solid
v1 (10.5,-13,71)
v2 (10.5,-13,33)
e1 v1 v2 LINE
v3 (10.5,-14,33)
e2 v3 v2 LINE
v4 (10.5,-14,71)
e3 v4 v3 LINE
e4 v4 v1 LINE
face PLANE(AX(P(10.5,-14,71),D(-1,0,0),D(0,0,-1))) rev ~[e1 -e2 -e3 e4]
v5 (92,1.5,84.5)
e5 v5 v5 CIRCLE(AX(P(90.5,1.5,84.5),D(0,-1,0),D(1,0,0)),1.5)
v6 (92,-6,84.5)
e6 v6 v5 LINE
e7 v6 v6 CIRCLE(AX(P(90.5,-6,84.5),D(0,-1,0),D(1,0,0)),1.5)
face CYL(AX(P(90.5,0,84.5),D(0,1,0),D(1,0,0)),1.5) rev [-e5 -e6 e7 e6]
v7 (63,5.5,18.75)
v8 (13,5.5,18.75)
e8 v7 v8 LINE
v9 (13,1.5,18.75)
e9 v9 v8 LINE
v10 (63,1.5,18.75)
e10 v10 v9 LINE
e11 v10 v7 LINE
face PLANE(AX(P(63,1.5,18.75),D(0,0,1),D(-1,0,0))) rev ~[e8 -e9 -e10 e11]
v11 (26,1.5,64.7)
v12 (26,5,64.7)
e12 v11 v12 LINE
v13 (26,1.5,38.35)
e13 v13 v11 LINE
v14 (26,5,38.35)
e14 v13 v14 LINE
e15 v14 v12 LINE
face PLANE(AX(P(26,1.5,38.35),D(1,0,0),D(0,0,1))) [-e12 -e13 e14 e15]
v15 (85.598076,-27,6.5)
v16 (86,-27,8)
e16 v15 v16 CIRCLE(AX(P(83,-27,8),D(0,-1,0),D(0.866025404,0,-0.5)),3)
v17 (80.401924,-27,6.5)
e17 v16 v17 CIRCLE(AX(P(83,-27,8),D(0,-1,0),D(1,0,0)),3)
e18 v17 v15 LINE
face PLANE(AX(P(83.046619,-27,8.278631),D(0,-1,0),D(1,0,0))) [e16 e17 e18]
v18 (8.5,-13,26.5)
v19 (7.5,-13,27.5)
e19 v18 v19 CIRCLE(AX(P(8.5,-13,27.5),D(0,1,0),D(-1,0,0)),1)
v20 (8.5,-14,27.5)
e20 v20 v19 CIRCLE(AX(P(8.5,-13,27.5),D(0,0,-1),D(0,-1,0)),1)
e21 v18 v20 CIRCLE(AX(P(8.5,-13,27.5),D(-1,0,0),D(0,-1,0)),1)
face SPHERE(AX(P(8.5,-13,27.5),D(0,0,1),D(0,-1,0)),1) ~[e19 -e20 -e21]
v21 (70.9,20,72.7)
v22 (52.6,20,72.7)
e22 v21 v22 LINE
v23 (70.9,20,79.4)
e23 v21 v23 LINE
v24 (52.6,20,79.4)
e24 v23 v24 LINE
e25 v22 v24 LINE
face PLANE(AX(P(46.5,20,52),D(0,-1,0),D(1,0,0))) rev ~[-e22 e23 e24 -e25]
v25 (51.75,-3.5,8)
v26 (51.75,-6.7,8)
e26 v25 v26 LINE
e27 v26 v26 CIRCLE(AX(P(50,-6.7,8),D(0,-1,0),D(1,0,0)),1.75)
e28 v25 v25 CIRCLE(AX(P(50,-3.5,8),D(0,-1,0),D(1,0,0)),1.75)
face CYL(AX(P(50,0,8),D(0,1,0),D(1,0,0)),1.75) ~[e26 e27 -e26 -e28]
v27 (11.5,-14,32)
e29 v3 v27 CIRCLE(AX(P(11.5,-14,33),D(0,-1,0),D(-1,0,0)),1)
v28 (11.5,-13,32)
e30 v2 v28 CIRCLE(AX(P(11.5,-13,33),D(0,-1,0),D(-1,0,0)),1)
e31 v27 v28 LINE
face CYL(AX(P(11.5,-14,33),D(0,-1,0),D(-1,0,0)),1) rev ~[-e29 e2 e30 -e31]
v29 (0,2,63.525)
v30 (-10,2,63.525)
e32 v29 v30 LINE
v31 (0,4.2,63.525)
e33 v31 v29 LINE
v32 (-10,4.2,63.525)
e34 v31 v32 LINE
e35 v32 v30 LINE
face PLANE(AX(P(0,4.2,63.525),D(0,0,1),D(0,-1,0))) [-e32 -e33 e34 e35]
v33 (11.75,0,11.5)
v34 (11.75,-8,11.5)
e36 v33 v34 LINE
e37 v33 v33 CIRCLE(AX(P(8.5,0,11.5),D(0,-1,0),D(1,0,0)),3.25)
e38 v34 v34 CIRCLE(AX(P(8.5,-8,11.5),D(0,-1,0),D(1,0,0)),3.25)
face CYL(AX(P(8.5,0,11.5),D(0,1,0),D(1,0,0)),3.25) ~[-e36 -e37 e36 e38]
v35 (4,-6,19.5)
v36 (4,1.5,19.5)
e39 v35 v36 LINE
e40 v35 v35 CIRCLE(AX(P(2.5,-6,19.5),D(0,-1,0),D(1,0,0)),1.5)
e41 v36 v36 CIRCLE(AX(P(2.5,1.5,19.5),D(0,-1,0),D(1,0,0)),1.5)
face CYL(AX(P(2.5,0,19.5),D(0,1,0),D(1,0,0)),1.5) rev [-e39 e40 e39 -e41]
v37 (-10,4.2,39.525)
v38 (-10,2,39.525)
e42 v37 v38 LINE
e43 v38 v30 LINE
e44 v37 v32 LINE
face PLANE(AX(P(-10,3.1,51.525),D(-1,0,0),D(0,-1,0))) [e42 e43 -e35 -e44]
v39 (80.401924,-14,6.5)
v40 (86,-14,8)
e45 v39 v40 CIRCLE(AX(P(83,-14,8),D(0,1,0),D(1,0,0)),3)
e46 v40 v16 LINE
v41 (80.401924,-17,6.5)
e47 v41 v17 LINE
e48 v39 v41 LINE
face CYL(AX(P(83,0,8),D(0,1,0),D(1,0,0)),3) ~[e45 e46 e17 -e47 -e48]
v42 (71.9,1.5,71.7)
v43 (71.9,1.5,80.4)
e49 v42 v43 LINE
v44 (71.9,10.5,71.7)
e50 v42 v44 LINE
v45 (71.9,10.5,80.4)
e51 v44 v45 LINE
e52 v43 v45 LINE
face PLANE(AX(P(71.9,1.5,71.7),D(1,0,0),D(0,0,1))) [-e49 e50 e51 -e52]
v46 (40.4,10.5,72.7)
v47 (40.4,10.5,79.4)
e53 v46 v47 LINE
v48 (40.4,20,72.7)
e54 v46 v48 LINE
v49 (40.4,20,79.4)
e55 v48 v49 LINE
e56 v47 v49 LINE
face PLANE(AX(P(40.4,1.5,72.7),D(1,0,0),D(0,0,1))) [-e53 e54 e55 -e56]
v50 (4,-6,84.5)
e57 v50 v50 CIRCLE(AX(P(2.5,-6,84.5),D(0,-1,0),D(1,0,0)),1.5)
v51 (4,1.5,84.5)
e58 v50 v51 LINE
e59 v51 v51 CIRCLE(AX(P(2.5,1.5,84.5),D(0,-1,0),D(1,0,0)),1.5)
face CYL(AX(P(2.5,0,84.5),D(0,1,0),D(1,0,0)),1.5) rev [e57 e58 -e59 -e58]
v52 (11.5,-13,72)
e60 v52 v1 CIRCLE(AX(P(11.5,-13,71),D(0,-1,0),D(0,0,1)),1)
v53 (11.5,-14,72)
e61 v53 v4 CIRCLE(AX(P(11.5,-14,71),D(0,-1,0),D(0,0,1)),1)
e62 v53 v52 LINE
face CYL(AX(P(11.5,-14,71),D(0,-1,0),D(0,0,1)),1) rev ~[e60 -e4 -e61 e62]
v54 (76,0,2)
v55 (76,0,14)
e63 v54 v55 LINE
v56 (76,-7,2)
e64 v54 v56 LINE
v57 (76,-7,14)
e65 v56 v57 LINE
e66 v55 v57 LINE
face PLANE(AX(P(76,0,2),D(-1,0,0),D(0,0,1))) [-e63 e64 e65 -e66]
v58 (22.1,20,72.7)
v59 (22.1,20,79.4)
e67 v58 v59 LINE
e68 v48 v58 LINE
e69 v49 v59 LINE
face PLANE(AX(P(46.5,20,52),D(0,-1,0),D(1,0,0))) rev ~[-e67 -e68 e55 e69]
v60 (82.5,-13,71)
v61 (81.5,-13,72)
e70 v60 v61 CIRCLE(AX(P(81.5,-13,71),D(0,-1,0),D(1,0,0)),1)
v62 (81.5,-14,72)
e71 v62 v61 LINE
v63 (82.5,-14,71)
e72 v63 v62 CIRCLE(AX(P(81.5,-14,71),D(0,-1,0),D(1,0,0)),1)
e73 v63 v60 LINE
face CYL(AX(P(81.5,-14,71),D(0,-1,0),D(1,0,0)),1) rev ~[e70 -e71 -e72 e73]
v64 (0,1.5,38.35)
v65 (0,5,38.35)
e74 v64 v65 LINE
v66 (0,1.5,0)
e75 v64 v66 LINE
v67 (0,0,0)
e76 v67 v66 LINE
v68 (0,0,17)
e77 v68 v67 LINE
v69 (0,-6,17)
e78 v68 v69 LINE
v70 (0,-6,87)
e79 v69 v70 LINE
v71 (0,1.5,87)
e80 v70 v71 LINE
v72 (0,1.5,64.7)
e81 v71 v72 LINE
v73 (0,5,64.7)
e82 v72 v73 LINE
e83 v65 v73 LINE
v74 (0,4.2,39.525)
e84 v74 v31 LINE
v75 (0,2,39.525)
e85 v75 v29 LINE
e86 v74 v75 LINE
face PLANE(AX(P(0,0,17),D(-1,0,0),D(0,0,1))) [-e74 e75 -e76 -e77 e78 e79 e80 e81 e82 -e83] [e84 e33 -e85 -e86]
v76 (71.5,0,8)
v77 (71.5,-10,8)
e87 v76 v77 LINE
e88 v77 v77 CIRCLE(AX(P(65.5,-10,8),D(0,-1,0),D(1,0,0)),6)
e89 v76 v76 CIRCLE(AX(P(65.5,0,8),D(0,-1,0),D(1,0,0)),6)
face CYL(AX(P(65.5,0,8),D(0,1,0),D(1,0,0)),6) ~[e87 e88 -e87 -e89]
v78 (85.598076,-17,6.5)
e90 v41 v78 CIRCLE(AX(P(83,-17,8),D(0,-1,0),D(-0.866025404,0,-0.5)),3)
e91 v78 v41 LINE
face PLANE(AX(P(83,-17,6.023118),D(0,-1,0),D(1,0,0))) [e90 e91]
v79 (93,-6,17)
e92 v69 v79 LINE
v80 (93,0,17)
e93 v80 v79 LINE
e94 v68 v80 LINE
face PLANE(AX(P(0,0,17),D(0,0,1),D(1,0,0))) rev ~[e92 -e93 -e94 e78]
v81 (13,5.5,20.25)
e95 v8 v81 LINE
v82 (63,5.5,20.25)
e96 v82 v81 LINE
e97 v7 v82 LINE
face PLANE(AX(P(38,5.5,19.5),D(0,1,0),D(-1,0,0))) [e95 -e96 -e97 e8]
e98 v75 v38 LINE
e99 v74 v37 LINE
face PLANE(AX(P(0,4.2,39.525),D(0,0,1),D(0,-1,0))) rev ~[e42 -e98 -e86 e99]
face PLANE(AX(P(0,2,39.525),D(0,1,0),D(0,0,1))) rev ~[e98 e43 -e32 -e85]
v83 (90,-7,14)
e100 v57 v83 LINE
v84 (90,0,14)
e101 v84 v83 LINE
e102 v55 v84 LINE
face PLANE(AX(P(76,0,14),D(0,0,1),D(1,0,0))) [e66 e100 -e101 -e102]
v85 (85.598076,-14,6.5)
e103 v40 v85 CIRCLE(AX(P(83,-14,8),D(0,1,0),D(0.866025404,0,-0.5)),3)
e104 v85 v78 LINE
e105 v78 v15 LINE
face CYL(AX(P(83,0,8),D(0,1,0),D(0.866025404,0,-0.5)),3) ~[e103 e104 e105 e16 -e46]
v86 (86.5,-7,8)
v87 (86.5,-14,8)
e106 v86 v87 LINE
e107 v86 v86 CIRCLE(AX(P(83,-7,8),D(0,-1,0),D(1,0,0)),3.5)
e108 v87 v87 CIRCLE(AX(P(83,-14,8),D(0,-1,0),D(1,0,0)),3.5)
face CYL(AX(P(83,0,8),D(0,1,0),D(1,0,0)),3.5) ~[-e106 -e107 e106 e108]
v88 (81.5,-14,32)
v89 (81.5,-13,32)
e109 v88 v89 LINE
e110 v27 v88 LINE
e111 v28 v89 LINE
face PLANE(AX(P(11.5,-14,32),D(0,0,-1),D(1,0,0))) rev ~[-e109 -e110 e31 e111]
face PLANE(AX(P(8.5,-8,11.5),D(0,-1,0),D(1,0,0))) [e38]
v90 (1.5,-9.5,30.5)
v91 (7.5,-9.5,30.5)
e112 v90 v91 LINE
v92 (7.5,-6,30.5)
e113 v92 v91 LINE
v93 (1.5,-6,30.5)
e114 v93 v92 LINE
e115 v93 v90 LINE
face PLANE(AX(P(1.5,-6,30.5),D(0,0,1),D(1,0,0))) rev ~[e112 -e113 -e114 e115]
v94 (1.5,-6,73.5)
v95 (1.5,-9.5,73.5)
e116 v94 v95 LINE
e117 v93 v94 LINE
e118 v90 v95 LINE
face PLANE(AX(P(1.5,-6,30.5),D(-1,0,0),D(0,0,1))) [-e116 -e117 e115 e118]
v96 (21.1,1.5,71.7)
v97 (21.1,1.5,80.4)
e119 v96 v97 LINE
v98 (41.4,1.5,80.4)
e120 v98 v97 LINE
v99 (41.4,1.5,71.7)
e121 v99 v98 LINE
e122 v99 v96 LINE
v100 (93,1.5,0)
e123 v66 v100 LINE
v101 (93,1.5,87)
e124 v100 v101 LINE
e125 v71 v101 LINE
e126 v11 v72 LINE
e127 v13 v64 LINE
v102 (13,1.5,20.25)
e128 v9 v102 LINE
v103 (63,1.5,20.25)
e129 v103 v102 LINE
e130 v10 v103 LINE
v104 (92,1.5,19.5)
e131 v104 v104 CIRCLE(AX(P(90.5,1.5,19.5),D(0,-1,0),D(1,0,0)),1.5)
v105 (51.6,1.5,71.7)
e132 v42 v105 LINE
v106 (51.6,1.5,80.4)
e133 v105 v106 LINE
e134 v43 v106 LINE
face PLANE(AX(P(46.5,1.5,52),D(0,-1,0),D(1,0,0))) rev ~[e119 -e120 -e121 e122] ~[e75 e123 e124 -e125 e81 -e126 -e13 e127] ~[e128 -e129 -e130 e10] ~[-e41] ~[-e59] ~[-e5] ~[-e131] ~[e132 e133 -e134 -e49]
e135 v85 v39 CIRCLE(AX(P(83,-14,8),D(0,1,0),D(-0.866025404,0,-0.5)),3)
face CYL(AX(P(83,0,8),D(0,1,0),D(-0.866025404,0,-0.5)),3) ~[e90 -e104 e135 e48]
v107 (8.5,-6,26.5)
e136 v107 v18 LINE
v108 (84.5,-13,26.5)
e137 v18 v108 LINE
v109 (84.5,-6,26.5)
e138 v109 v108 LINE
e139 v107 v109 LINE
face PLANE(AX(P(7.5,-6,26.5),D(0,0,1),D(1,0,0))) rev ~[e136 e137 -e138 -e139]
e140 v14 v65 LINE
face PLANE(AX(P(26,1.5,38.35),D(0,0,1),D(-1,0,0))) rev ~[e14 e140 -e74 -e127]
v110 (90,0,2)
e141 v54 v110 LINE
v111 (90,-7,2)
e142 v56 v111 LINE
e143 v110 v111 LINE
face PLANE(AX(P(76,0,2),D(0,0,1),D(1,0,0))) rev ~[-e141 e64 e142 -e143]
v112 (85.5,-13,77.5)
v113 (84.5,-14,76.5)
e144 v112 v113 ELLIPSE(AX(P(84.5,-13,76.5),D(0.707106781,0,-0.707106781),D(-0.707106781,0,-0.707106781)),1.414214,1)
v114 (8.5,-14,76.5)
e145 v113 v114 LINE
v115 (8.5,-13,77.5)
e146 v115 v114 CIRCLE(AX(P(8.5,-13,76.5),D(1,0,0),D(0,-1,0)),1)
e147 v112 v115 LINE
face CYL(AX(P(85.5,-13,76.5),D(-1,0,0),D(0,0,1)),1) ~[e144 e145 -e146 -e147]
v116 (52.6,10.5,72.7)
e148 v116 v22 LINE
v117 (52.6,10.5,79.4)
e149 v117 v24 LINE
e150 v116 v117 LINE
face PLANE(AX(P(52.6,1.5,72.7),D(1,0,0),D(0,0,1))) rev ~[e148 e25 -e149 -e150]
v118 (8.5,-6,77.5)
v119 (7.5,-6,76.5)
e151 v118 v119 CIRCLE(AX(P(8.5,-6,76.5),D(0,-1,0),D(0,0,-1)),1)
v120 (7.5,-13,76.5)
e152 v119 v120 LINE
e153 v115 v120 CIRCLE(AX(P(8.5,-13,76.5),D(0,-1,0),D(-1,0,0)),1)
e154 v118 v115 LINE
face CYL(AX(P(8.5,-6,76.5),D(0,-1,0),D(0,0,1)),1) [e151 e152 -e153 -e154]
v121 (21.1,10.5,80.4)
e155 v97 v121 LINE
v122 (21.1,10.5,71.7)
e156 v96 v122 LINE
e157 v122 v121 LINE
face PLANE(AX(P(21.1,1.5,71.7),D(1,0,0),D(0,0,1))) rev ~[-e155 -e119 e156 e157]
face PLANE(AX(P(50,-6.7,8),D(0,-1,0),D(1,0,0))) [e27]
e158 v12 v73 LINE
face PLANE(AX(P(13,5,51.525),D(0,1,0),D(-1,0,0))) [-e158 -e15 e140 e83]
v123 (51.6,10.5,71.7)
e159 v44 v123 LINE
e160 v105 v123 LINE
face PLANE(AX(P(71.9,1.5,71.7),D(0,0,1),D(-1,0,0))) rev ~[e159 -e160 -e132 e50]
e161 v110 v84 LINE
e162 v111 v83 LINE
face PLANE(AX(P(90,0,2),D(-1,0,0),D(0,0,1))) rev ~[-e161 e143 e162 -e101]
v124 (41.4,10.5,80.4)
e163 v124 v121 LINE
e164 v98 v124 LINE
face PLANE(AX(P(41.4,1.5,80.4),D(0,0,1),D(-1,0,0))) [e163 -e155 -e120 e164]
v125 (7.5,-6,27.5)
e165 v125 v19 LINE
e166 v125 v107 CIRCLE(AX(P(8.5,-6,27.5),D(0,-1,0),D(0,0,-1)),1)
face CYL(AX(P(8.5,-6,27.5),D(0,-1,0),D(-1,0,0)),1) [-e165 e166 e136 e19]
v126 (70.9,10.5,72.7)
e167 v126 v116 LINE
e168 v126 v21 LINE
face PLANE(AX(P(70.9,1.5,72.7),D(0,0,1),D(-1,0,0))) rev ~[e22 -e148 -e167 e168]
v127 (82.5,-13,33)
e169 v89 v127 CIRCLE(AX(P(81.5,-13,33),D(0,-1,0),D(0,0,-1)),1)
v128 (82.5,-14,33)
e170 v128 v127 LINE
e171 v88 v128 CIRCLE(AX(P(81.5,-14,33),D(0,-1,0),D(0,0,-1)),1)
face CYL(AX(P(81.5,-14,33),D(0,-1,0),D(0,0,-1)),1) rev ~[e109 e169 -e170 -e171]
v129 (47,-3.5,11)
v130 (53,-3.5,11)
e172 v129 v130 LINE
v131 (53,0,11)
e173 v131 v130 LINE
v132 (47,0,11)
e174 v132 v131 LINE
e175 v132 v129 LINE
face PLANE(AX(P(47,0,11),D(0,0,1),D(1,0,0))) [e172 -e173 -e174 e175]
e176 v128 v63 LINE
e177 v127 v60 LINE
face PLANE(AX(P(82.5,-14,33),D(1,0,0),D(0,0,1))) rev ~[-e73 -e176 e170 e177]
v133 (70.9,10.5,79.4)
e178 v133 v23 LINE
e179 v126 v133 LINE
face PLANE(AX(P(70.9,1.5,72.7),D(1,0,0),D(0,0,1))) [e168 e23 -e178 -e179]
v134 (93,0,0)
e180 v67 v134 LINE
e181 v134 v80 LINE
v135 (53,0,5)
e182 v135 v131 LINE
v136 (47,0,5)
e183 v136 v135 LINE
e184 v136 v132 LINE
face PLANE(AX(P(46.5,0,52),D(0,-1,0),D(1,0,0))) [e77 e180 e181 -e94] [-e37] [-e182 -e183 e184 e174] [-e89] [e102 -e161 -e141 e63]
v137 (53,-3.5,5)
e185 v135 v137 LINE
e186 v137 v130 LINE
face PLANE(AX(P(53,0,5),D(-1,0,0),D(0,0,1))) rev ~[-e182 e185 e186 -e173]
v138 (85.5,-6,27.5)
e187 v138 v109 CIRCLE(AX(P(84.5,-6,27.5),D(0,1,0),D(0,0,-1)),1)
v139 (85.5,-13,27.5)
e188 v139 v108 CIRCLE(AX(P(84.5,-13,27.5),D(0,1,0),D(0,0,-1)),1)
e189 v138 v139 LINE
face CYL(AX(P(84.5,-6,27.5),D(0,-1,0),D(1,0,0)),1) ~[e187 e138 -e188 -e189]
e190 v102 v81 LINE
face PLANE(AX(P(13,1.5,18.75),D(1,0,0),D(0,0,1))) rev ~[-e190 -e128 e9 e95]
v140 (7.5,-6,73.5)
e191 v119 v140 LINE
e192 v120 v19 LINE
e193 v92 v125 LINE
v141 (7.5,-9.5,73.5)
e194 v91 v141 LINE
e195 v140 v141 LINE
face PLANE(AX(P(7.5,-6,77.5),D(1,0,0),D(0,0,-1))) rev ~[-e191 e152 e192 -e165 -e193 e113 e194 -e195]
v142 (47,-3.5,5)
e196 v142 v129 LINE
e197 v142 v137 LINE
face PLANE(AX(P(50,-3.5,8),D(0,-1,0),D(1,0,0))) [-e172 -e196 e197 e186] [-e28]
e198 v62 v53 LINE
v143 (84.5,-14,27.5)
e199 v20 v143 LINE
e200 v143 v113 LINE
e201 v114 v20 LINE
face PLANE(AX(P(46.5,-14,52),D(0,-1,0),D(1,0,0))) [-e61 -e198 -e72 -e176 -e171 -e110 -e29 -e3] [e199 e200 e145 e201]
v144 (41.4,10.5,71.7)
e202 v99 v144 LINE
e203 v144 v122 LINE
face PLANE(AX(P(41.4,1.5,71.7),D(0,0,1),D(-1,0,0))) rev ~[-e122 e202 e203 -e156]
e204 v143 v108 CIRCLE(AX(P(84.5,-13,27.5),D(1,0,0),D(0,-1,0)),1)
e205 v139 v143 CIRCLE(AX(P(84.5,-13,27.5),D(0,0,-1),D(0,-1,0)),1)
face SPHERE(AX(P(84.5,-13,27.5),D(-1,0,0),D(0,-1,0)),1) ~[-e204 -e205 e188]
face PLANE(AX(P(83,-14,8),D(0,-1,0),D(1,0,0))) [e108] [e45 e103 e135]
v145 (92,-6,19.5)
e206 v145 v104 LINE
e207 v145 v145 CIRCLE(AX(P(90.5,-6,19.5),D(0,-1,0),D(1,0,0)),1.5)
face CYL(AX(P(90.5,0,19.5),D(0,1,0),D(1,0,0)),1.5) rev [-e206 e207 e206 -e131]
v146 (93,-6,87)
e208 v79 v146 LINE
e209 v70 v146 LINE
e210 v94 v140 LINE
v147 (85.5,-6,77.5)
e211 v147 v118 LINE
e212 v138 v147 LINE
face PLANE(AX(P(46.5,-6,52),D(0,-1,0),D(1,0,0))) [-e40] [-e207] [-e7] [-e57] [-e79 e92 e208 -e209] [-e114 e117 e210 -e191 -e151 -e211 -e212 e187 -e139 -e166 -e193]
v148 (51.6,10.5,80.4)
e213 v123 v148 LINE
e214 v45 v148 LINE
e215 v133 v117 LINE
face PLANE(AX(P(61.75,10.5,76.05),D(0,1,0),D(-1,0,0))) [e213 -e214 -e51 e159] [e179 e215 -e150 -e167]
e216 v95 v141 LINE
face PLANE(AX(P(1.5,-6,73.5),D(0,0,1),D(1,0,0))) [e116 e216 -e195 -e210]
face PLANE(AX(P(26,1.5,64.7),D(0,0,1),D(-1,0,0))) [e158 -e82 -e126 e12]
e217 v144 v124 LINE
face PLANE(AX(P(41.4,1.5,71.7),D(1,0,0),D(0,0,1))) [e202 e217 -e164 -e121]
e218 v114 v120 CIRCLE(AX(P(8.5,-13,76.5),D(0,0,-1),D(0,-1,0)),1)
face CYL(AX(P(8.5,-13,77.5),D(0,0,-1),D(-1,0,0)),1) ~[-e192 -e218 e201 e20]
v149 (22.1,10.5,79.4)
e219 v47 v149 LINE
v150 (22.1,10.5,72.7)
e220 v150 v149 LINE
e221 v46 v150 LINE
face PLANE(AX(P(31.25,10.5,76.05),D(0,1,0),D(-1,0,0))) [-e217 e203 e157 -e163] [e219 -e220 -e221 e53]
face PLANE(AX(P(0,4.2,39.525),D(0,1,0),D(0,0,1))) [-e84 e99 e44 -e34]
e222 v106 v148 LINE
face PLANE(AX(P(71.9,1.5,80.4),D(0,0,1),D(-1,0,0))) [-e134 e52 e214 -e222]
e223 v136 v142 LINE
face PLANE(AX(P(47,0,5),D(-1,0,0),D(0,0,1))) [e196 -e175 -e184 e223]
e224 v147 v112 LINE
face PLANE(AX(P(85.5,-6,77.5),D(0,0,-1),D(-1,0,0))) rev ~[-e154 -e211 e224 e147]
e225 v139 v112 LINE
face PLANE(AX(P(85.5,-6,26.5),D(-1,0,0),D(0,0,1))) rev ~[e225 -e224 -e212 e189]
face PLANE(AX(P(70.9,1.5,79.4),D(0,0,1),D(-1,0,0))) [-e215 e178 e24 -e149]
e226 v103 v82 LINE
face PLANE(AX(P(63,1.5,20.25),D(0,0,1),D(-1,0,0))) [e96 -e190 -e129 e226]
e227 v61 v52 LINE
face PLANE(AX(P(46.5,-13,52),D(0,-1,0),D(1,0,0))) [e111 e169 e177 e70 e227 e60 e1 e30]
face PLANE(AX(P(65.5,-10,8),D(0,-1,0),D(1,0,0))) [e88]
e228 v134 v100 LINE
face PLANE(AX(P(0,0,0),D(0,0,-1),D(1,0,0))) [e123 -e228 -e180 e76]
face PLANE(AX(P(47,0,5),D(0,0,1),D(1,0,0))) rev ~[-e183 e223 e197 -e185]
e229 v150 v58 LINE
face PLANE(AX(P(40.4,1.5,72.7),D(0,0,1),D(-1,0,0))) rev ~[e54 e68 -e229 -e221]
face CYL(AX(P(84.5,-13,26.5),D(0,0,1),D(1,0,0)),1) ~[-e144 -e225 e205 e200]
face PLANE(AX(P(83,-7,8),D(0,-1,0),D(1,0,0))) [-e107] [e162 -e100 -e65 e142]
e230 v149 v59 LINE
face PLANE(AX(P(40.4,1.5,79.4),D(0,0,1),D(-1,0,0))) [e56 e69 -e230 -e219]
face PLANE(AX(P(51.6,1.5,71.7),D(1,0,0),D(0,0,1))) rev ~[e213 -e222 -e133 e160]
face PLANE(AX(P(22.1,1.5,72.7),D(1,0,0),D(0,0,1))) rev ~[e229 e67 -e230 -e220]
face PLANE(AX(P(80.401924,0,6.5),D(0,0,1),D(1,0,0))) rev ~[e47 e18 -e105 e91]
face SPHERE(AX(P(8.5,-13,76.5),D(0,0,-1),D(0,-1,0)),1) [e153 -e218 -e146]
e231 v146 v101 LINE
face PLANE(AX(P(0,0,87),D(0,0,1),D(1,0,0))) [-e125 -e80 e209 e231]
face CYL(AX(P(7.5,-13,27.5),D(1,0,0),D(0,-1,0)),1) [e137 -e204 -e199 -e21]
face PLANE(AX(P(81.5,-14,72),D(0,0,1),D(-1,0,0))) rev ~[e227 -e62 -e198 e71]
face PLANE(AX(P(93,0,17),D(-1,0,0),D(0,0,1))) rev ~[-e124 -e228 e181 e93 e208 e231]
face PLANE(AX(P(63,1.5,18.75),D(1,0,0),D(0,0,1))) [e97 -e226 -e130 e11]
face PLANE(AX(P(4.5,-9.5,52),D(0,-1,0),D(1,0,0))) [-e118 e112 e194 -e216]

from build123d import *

# Parameters (mm, degrees)
F0_W      = 93
F0_H      = 70
F0_R      = 1.5
F0_H_2    = 17
F0_R_2    = 3.25
F0_W_2    = 6
F0_H_3    = 6
F0_R_3    = 6
F0_W_3    = 14
F0_H_4    = 12
F0_R_4    = 3.5
F0_R_5    = 1.75
F1_DEPTH  = 1.5
F2_W      = 20.3
F2_H      = 8.7
F2_W_2    = 18.3
F2_H_2    = 6.7
F3_DEPTH  = 9
F2_W_3    = 26
F2_H_3    = 26.35
F4_DEPTH  = 3.5
F5_DEPTH  = 18.5
F6_DEPTH  = 6
F2_W_4    = 50
F2_H_4    = 1.5
F7_DEPTH  = 4
F8_DEPTH  = 10
F9_DEPTH  = 3.5
F10_DEPTH = 6.7
F11_DEPTH = 27
F12_DEPTH = 17
F13_DEPTH = 14
F14_DEPTH = 7
F15_DEPTH = 8
F16_W     = 6
F16_H     = 43
F17_DEPTH = 3.5
F18_DEPTH = 8
F19_R     = 1
F21_DEPTH = 1
F22_W     = 2.2
F22_H     = 24
F23_DEPTH = 10


with BuildPart() as f1:
    # F0 (on Front) → F1 (new body)
    with BuildSketch(Plane.XZ):
        with Locations((46.5, 52)):
            Rectangle(F0_W, F0_H)
        with Locations((2.5, 19.5)):
            Circle(F0_R, mode=Mode.SUBTRACT)
        with Locations((90.5, 19.5)):
            Circle(F0_R, mode=Mode.SUBTRACT)
        with Locations((2.5, 84.5)):
            Circle(F0_R, mode=Mode.SUBTRACT)
        with Locations((90.5, 84.5)):
            Circle(F0_R, mode=Mode.SUBTRACT)
        with Locations((46.5, 8.5)):
            Rectangle(F0_W, F0_H_2)
        with Locations((8.5, 11.5)):
            Circle(F0_R_2, mode=Mode.SUBTRACT)
        with Locations((50, 8)):
            Rectangle(F0_W_2, F0_H_3, mode=Mode.SUBTRACT)
        with Locations((65.5, 8)):
            Circle(F0_R_3, mode=Mode.SUBTRACT)
        with Locations((83, 8)):
            Rectangle(F0_W_3, F0_H_4, mode=Mode.SUBTRACT)
        with Locations((83, 8)):
            Rectangle(F0_W_3, F0_H_4)
        with Locations((83, 8)):
            Circle(F0_R_4, mode=Mode.SUBTRACT)
        with Locations((65.5, 8)):
            Circle(F0_R_3)
        with Locations((83, 8)):
            Circle(F0_R_4)
        with BuildLine():
            ThreePointArc((80.4019237886, 6.5), (82.2235428647, 10.8977774789), (86, 8))
            ThreePointArc((86, 8), (85.8977774789, 7.2235428647), (85.5980762114, 6.5))
            ThreePointArc((85.5980762114, 6.5), (83, 5), (80.4019237886, 6.5))
        make_face(mode=Mode.SUBTRACT)
        with Locations((50, 8)):
            Rectangle(F0_W_2, F0_H_3)
        with Locations((50, 8)):
            Circle(F0_R_5, mode=Mode.SUBTRACT)
        with Locations((8.5, 11.5)):
            Circle(F0_R_2)
        with BuildLine():
            ThreePointArc((85.5980762114, 6.5), (85.8977774789, 7.2235428647), (86, 8))
            ThreePointArc((86, 8), (82.2235428647, 10.8977774789), (80.4019237886, 6.5))
            Line((80.4019237886, 6.5), (85.5980762114, 6.5))
        make_face()
        with Locations((50, 8)):
            Circle(F0_R_5)
        with BuildLine():
            Line((85.5980762114, 6.5), (80.4019237886, 6.5))
            ThreePointArc((80.4019237886, 6.5), (83, 5), (85.5980762114, 6.5))
        make_face()
    extrude(amount=-F1_DEPTH)

    # F2 (on face) → F3 (join)
    with BuildSketch(Plane(origin=(0, 1.5, 0), x_dir=(-1, 0, 0), z_dir=(0, 1, 0))):
        with Locations((-61.75, 76.05)):
            Rectangle(F2_W, F2_H)
        with Locations((-61.75, 76.05)):
            Rectangle(F2_W_2, F2_H_2, mode=Mode.SUBTRACT)
        with Locations((-31.25, 76.05)):
            Rectangle(F2_W, F2_H)
        with Locations((-31.25, 76.05)):
            Rectangle(F2_W_2, F2_H_2, mode=Mode.SUBTRACT)
    extrude(amount=F3_DEPTH)

    # F2 (on face) → F4 (join)
    with BuildSketch(Plane(origin=(0, 1.5, 0), x_dir=(-1, 0, 0), z_dir=(0, 1, 0))):
        with Locations((-13, 51.525)):
            Rectangle(F2_W_3, F2_H_3)
    extrude(amount=F4_DEPTH)

    # F5 (add): faces of the model
    f5_faces = [f1.faces().sort_by_distance(p)[0] for p in [
        (61.75, 1.5, 76.05),
        (31.25, 1.5, 76.05),
    ]]
    extrude(f5_faces, amount=F5_DEPTH)

    # F0 (on Front) → F6 (join)
    with BuildSketch(Plane.XZ):
        with Locations((46.5, 52)):
            Rectangle(F0_W, F0_H)
        with Locations((2.5, 19.5)):
            Circle(F0_R, mode=Mode.SUBTRACT)
        with Locations((90.5, 19.5)):
            Circle(F0_R, mode=Mode.SUBTRACT)
        with Locations((2.5, 84.5)):
            Circle(F0_R, mode=Mode.SUBTRACT)
        with Locations((90.5, 84.5)):
            Circle(F0_R, mode=Mode.SUBTRACT)
    extrude(amount=F6_DEPTH)

    # F2 (on face) → F7 (join)
    with BuildSketch(Plane(origin=(0, 1.5, 0), x_dir=(-1, 0, 0), z_dir=(0, 1, 0))):
        with Locations((-38, 19.5)):
            Rectangle(F2_W_4, F2_H_4)
    extrude(amount=F7_DEPTH)

    # F0 (on Front) → F8 (join)
    with BuildSketch(Plane.XZ):
        with Locations((65.5, 8)):
            Circle(F0_R_3)
    extrude(amount=F8_DEPTH)

    # F0 (on Front) → F9 (join)
    with BuildSketch(Plane.XZ):
        with Locations((50, 8)):
            Rectangle(F0_W_2, F0_H_3)
        with Locations((50, 8)):
            Circle(F0_R_5, mode=Mode.SUBTRACT)
    extrude(amount=F9_DEPTH)

    # F0 (on Front) → F10 (join)
    with BuildSketch(Plane.XZ):
        with Locations((50, 8)):
            Circle(F0_R_5)
    extrude(amount=F10_DEPTH)

    # F0 (on Front) → F11 (join)
    with BuildSketch(Plane.XZ):
        with BuildLine():
            ThreePointArc((85.5980762114, 6.5), (85.8977774789, 7.2235428647), (86, 8))
            ThreePointArc((86, 8), (82.2235428647, 10.8977774789), (80.4019237886, 6.5))
            Line((80.4019237886, 6.5), (85.5980762114, 6.5))
        make_face()
    extrude(amount=F11_DEPTH)

    # F0 (on Front) → F12 (join)
    with BuildSketch(Plane.XZ):
        with BuildLine():
            Line((85.5980762114, 6.5), (80.4019237886, 6.5))
            ThreePointArc((80.4019237886, 6.5), (83, 5), (85.5980762114, 6.5))
        make_face()
    extrude(amount=F12_DEPTH)

    # F0 (on Front) → F13 (join)
    with BuildSketch(Plane.XZ):
        with Locations((83, 8)):
            Circle(F0_R_4)
        with BuildLine():
            ThreePointArc((80.4019237886, 6.5), (82.2235428647, 10.8977774789), (86, 8))
            ThreePointArc((86, 8), (85.8977774789, 7.2235428647), (85.5980762114, 6.5))
            ThreePointArc((85.5980762114, 6.5), (83, 5), (80.4019237886, 6.5))
        make_face(mode=Mode.SUBTRACT)
        with BuildLine():
            Line((85.5980762114, 6.5), (80.4019237886, 6.5))
            ThreePointArc((80.4019237886, 6.5), (83, 5), (85.5980762114, 6.5))
        make_face()
        with BuildLine():
            ThreePointArc((85.5980762114, 6.5), (85.8977774789, 7.2235428647), (86, 8))
            ThreePointArc((86, 8), (82.2235428647, 10.8977774789), (80.4019237886, 6.5))
            Line((80.4019237886, 6.5), (85.5980762114, 6.5))
        make_face()
    extrude(amount=F13_DEPTH)

    # F0 (on Front) → F14 (join)
    with BuildSketch(Plane.XZ):
        with Locations((83, 8)):
            Rectangle(F0_W_3, F0_H_4)
        with Locations((83, 8)):
            Circle(F0_R_4, mode=Mode.SUBTRACT)
    extrude(amount=F14_DEPTH)

    # F0 (on Front) → F15 (join)
    with BuildSketch(Plane.XZ):
        with Locations((8.5, 11.5)):
            Circle(F0_R_2)
    extrude(amount=F15_DEPTH)

    # F16 (on face) → F17 (join)
    with BuildSketch(Plane.XZ.offset(6)):
        with Locations((4.5, 52)):
            Rectangle(F16_W, F16_H)
    extrude(amount=F17_DEPTH)

    # F16 (on face) → F18 (join)
    with BuildSketch(Plane.XZ.offset(6)):
        Polygon((85.5, 77.5), (7.5, 77.5), (7.5, 73.5), (7.5, 30.5), (7.5, 26.5), (85.5, 26.5), align=None)
    extrude(amount=F18_DEPTH)

    # F19
    f19_edges = [f1.edges().sort_by_distance(p)[0] for p in [
        (7.5, -14, 52),
        (46.5, -14, 77.5),
        (46.5, -14, 26.5),
        (85.5, -14, 52),
        (7.5, -10, 26.5),
        (85.5, -10, 26.5),
        (7.5, -10, 77.5),
    ]]
    fillet(f19_edges, radius=F19_R)

    # F20 (on face) → F21 (cut)
    with BuildSketch(Plane.XZ.offset(14)):
        with BuildLine():
            Line((81.5, 72), (11.5, 72))
            ThreePointArc((11.5, 72), (10.7928932188, 71.7071067812), (10.5, 71))
            Line((10.5, 71), (10.5, 33))
            ThreePointArc((10.5, 33), (10.7928932188, 32.2928932188), (11.5, 32))
            Line((11.5, 32), (81.5, 32))
            ThreePointArc((81.5, 32), (82.2071067812, 32.2928932188), (82.5, 33))
            Line((82.5, 33), (82.5, 71))
            ThreePointArc((82.5, 71), (82.2071067812, 71.7071067812), (81.5, 72))
        make_face()
    extrude(amount=-F21_DEPTH, mode=Mode.SUBTRACT)

    # F22 (on face) → F23 (join)
    with BuildSketch(Plane(origin=(0, 0, 0), x_dir=(0, -1, 0), z_dir=(-1, 0, 0))):
        with Locations((-3.1, 51.525)):
            Rectangle(F22_W, F22_H)
    extrude(amount=F23_DEPTH)


solid = f1.part
